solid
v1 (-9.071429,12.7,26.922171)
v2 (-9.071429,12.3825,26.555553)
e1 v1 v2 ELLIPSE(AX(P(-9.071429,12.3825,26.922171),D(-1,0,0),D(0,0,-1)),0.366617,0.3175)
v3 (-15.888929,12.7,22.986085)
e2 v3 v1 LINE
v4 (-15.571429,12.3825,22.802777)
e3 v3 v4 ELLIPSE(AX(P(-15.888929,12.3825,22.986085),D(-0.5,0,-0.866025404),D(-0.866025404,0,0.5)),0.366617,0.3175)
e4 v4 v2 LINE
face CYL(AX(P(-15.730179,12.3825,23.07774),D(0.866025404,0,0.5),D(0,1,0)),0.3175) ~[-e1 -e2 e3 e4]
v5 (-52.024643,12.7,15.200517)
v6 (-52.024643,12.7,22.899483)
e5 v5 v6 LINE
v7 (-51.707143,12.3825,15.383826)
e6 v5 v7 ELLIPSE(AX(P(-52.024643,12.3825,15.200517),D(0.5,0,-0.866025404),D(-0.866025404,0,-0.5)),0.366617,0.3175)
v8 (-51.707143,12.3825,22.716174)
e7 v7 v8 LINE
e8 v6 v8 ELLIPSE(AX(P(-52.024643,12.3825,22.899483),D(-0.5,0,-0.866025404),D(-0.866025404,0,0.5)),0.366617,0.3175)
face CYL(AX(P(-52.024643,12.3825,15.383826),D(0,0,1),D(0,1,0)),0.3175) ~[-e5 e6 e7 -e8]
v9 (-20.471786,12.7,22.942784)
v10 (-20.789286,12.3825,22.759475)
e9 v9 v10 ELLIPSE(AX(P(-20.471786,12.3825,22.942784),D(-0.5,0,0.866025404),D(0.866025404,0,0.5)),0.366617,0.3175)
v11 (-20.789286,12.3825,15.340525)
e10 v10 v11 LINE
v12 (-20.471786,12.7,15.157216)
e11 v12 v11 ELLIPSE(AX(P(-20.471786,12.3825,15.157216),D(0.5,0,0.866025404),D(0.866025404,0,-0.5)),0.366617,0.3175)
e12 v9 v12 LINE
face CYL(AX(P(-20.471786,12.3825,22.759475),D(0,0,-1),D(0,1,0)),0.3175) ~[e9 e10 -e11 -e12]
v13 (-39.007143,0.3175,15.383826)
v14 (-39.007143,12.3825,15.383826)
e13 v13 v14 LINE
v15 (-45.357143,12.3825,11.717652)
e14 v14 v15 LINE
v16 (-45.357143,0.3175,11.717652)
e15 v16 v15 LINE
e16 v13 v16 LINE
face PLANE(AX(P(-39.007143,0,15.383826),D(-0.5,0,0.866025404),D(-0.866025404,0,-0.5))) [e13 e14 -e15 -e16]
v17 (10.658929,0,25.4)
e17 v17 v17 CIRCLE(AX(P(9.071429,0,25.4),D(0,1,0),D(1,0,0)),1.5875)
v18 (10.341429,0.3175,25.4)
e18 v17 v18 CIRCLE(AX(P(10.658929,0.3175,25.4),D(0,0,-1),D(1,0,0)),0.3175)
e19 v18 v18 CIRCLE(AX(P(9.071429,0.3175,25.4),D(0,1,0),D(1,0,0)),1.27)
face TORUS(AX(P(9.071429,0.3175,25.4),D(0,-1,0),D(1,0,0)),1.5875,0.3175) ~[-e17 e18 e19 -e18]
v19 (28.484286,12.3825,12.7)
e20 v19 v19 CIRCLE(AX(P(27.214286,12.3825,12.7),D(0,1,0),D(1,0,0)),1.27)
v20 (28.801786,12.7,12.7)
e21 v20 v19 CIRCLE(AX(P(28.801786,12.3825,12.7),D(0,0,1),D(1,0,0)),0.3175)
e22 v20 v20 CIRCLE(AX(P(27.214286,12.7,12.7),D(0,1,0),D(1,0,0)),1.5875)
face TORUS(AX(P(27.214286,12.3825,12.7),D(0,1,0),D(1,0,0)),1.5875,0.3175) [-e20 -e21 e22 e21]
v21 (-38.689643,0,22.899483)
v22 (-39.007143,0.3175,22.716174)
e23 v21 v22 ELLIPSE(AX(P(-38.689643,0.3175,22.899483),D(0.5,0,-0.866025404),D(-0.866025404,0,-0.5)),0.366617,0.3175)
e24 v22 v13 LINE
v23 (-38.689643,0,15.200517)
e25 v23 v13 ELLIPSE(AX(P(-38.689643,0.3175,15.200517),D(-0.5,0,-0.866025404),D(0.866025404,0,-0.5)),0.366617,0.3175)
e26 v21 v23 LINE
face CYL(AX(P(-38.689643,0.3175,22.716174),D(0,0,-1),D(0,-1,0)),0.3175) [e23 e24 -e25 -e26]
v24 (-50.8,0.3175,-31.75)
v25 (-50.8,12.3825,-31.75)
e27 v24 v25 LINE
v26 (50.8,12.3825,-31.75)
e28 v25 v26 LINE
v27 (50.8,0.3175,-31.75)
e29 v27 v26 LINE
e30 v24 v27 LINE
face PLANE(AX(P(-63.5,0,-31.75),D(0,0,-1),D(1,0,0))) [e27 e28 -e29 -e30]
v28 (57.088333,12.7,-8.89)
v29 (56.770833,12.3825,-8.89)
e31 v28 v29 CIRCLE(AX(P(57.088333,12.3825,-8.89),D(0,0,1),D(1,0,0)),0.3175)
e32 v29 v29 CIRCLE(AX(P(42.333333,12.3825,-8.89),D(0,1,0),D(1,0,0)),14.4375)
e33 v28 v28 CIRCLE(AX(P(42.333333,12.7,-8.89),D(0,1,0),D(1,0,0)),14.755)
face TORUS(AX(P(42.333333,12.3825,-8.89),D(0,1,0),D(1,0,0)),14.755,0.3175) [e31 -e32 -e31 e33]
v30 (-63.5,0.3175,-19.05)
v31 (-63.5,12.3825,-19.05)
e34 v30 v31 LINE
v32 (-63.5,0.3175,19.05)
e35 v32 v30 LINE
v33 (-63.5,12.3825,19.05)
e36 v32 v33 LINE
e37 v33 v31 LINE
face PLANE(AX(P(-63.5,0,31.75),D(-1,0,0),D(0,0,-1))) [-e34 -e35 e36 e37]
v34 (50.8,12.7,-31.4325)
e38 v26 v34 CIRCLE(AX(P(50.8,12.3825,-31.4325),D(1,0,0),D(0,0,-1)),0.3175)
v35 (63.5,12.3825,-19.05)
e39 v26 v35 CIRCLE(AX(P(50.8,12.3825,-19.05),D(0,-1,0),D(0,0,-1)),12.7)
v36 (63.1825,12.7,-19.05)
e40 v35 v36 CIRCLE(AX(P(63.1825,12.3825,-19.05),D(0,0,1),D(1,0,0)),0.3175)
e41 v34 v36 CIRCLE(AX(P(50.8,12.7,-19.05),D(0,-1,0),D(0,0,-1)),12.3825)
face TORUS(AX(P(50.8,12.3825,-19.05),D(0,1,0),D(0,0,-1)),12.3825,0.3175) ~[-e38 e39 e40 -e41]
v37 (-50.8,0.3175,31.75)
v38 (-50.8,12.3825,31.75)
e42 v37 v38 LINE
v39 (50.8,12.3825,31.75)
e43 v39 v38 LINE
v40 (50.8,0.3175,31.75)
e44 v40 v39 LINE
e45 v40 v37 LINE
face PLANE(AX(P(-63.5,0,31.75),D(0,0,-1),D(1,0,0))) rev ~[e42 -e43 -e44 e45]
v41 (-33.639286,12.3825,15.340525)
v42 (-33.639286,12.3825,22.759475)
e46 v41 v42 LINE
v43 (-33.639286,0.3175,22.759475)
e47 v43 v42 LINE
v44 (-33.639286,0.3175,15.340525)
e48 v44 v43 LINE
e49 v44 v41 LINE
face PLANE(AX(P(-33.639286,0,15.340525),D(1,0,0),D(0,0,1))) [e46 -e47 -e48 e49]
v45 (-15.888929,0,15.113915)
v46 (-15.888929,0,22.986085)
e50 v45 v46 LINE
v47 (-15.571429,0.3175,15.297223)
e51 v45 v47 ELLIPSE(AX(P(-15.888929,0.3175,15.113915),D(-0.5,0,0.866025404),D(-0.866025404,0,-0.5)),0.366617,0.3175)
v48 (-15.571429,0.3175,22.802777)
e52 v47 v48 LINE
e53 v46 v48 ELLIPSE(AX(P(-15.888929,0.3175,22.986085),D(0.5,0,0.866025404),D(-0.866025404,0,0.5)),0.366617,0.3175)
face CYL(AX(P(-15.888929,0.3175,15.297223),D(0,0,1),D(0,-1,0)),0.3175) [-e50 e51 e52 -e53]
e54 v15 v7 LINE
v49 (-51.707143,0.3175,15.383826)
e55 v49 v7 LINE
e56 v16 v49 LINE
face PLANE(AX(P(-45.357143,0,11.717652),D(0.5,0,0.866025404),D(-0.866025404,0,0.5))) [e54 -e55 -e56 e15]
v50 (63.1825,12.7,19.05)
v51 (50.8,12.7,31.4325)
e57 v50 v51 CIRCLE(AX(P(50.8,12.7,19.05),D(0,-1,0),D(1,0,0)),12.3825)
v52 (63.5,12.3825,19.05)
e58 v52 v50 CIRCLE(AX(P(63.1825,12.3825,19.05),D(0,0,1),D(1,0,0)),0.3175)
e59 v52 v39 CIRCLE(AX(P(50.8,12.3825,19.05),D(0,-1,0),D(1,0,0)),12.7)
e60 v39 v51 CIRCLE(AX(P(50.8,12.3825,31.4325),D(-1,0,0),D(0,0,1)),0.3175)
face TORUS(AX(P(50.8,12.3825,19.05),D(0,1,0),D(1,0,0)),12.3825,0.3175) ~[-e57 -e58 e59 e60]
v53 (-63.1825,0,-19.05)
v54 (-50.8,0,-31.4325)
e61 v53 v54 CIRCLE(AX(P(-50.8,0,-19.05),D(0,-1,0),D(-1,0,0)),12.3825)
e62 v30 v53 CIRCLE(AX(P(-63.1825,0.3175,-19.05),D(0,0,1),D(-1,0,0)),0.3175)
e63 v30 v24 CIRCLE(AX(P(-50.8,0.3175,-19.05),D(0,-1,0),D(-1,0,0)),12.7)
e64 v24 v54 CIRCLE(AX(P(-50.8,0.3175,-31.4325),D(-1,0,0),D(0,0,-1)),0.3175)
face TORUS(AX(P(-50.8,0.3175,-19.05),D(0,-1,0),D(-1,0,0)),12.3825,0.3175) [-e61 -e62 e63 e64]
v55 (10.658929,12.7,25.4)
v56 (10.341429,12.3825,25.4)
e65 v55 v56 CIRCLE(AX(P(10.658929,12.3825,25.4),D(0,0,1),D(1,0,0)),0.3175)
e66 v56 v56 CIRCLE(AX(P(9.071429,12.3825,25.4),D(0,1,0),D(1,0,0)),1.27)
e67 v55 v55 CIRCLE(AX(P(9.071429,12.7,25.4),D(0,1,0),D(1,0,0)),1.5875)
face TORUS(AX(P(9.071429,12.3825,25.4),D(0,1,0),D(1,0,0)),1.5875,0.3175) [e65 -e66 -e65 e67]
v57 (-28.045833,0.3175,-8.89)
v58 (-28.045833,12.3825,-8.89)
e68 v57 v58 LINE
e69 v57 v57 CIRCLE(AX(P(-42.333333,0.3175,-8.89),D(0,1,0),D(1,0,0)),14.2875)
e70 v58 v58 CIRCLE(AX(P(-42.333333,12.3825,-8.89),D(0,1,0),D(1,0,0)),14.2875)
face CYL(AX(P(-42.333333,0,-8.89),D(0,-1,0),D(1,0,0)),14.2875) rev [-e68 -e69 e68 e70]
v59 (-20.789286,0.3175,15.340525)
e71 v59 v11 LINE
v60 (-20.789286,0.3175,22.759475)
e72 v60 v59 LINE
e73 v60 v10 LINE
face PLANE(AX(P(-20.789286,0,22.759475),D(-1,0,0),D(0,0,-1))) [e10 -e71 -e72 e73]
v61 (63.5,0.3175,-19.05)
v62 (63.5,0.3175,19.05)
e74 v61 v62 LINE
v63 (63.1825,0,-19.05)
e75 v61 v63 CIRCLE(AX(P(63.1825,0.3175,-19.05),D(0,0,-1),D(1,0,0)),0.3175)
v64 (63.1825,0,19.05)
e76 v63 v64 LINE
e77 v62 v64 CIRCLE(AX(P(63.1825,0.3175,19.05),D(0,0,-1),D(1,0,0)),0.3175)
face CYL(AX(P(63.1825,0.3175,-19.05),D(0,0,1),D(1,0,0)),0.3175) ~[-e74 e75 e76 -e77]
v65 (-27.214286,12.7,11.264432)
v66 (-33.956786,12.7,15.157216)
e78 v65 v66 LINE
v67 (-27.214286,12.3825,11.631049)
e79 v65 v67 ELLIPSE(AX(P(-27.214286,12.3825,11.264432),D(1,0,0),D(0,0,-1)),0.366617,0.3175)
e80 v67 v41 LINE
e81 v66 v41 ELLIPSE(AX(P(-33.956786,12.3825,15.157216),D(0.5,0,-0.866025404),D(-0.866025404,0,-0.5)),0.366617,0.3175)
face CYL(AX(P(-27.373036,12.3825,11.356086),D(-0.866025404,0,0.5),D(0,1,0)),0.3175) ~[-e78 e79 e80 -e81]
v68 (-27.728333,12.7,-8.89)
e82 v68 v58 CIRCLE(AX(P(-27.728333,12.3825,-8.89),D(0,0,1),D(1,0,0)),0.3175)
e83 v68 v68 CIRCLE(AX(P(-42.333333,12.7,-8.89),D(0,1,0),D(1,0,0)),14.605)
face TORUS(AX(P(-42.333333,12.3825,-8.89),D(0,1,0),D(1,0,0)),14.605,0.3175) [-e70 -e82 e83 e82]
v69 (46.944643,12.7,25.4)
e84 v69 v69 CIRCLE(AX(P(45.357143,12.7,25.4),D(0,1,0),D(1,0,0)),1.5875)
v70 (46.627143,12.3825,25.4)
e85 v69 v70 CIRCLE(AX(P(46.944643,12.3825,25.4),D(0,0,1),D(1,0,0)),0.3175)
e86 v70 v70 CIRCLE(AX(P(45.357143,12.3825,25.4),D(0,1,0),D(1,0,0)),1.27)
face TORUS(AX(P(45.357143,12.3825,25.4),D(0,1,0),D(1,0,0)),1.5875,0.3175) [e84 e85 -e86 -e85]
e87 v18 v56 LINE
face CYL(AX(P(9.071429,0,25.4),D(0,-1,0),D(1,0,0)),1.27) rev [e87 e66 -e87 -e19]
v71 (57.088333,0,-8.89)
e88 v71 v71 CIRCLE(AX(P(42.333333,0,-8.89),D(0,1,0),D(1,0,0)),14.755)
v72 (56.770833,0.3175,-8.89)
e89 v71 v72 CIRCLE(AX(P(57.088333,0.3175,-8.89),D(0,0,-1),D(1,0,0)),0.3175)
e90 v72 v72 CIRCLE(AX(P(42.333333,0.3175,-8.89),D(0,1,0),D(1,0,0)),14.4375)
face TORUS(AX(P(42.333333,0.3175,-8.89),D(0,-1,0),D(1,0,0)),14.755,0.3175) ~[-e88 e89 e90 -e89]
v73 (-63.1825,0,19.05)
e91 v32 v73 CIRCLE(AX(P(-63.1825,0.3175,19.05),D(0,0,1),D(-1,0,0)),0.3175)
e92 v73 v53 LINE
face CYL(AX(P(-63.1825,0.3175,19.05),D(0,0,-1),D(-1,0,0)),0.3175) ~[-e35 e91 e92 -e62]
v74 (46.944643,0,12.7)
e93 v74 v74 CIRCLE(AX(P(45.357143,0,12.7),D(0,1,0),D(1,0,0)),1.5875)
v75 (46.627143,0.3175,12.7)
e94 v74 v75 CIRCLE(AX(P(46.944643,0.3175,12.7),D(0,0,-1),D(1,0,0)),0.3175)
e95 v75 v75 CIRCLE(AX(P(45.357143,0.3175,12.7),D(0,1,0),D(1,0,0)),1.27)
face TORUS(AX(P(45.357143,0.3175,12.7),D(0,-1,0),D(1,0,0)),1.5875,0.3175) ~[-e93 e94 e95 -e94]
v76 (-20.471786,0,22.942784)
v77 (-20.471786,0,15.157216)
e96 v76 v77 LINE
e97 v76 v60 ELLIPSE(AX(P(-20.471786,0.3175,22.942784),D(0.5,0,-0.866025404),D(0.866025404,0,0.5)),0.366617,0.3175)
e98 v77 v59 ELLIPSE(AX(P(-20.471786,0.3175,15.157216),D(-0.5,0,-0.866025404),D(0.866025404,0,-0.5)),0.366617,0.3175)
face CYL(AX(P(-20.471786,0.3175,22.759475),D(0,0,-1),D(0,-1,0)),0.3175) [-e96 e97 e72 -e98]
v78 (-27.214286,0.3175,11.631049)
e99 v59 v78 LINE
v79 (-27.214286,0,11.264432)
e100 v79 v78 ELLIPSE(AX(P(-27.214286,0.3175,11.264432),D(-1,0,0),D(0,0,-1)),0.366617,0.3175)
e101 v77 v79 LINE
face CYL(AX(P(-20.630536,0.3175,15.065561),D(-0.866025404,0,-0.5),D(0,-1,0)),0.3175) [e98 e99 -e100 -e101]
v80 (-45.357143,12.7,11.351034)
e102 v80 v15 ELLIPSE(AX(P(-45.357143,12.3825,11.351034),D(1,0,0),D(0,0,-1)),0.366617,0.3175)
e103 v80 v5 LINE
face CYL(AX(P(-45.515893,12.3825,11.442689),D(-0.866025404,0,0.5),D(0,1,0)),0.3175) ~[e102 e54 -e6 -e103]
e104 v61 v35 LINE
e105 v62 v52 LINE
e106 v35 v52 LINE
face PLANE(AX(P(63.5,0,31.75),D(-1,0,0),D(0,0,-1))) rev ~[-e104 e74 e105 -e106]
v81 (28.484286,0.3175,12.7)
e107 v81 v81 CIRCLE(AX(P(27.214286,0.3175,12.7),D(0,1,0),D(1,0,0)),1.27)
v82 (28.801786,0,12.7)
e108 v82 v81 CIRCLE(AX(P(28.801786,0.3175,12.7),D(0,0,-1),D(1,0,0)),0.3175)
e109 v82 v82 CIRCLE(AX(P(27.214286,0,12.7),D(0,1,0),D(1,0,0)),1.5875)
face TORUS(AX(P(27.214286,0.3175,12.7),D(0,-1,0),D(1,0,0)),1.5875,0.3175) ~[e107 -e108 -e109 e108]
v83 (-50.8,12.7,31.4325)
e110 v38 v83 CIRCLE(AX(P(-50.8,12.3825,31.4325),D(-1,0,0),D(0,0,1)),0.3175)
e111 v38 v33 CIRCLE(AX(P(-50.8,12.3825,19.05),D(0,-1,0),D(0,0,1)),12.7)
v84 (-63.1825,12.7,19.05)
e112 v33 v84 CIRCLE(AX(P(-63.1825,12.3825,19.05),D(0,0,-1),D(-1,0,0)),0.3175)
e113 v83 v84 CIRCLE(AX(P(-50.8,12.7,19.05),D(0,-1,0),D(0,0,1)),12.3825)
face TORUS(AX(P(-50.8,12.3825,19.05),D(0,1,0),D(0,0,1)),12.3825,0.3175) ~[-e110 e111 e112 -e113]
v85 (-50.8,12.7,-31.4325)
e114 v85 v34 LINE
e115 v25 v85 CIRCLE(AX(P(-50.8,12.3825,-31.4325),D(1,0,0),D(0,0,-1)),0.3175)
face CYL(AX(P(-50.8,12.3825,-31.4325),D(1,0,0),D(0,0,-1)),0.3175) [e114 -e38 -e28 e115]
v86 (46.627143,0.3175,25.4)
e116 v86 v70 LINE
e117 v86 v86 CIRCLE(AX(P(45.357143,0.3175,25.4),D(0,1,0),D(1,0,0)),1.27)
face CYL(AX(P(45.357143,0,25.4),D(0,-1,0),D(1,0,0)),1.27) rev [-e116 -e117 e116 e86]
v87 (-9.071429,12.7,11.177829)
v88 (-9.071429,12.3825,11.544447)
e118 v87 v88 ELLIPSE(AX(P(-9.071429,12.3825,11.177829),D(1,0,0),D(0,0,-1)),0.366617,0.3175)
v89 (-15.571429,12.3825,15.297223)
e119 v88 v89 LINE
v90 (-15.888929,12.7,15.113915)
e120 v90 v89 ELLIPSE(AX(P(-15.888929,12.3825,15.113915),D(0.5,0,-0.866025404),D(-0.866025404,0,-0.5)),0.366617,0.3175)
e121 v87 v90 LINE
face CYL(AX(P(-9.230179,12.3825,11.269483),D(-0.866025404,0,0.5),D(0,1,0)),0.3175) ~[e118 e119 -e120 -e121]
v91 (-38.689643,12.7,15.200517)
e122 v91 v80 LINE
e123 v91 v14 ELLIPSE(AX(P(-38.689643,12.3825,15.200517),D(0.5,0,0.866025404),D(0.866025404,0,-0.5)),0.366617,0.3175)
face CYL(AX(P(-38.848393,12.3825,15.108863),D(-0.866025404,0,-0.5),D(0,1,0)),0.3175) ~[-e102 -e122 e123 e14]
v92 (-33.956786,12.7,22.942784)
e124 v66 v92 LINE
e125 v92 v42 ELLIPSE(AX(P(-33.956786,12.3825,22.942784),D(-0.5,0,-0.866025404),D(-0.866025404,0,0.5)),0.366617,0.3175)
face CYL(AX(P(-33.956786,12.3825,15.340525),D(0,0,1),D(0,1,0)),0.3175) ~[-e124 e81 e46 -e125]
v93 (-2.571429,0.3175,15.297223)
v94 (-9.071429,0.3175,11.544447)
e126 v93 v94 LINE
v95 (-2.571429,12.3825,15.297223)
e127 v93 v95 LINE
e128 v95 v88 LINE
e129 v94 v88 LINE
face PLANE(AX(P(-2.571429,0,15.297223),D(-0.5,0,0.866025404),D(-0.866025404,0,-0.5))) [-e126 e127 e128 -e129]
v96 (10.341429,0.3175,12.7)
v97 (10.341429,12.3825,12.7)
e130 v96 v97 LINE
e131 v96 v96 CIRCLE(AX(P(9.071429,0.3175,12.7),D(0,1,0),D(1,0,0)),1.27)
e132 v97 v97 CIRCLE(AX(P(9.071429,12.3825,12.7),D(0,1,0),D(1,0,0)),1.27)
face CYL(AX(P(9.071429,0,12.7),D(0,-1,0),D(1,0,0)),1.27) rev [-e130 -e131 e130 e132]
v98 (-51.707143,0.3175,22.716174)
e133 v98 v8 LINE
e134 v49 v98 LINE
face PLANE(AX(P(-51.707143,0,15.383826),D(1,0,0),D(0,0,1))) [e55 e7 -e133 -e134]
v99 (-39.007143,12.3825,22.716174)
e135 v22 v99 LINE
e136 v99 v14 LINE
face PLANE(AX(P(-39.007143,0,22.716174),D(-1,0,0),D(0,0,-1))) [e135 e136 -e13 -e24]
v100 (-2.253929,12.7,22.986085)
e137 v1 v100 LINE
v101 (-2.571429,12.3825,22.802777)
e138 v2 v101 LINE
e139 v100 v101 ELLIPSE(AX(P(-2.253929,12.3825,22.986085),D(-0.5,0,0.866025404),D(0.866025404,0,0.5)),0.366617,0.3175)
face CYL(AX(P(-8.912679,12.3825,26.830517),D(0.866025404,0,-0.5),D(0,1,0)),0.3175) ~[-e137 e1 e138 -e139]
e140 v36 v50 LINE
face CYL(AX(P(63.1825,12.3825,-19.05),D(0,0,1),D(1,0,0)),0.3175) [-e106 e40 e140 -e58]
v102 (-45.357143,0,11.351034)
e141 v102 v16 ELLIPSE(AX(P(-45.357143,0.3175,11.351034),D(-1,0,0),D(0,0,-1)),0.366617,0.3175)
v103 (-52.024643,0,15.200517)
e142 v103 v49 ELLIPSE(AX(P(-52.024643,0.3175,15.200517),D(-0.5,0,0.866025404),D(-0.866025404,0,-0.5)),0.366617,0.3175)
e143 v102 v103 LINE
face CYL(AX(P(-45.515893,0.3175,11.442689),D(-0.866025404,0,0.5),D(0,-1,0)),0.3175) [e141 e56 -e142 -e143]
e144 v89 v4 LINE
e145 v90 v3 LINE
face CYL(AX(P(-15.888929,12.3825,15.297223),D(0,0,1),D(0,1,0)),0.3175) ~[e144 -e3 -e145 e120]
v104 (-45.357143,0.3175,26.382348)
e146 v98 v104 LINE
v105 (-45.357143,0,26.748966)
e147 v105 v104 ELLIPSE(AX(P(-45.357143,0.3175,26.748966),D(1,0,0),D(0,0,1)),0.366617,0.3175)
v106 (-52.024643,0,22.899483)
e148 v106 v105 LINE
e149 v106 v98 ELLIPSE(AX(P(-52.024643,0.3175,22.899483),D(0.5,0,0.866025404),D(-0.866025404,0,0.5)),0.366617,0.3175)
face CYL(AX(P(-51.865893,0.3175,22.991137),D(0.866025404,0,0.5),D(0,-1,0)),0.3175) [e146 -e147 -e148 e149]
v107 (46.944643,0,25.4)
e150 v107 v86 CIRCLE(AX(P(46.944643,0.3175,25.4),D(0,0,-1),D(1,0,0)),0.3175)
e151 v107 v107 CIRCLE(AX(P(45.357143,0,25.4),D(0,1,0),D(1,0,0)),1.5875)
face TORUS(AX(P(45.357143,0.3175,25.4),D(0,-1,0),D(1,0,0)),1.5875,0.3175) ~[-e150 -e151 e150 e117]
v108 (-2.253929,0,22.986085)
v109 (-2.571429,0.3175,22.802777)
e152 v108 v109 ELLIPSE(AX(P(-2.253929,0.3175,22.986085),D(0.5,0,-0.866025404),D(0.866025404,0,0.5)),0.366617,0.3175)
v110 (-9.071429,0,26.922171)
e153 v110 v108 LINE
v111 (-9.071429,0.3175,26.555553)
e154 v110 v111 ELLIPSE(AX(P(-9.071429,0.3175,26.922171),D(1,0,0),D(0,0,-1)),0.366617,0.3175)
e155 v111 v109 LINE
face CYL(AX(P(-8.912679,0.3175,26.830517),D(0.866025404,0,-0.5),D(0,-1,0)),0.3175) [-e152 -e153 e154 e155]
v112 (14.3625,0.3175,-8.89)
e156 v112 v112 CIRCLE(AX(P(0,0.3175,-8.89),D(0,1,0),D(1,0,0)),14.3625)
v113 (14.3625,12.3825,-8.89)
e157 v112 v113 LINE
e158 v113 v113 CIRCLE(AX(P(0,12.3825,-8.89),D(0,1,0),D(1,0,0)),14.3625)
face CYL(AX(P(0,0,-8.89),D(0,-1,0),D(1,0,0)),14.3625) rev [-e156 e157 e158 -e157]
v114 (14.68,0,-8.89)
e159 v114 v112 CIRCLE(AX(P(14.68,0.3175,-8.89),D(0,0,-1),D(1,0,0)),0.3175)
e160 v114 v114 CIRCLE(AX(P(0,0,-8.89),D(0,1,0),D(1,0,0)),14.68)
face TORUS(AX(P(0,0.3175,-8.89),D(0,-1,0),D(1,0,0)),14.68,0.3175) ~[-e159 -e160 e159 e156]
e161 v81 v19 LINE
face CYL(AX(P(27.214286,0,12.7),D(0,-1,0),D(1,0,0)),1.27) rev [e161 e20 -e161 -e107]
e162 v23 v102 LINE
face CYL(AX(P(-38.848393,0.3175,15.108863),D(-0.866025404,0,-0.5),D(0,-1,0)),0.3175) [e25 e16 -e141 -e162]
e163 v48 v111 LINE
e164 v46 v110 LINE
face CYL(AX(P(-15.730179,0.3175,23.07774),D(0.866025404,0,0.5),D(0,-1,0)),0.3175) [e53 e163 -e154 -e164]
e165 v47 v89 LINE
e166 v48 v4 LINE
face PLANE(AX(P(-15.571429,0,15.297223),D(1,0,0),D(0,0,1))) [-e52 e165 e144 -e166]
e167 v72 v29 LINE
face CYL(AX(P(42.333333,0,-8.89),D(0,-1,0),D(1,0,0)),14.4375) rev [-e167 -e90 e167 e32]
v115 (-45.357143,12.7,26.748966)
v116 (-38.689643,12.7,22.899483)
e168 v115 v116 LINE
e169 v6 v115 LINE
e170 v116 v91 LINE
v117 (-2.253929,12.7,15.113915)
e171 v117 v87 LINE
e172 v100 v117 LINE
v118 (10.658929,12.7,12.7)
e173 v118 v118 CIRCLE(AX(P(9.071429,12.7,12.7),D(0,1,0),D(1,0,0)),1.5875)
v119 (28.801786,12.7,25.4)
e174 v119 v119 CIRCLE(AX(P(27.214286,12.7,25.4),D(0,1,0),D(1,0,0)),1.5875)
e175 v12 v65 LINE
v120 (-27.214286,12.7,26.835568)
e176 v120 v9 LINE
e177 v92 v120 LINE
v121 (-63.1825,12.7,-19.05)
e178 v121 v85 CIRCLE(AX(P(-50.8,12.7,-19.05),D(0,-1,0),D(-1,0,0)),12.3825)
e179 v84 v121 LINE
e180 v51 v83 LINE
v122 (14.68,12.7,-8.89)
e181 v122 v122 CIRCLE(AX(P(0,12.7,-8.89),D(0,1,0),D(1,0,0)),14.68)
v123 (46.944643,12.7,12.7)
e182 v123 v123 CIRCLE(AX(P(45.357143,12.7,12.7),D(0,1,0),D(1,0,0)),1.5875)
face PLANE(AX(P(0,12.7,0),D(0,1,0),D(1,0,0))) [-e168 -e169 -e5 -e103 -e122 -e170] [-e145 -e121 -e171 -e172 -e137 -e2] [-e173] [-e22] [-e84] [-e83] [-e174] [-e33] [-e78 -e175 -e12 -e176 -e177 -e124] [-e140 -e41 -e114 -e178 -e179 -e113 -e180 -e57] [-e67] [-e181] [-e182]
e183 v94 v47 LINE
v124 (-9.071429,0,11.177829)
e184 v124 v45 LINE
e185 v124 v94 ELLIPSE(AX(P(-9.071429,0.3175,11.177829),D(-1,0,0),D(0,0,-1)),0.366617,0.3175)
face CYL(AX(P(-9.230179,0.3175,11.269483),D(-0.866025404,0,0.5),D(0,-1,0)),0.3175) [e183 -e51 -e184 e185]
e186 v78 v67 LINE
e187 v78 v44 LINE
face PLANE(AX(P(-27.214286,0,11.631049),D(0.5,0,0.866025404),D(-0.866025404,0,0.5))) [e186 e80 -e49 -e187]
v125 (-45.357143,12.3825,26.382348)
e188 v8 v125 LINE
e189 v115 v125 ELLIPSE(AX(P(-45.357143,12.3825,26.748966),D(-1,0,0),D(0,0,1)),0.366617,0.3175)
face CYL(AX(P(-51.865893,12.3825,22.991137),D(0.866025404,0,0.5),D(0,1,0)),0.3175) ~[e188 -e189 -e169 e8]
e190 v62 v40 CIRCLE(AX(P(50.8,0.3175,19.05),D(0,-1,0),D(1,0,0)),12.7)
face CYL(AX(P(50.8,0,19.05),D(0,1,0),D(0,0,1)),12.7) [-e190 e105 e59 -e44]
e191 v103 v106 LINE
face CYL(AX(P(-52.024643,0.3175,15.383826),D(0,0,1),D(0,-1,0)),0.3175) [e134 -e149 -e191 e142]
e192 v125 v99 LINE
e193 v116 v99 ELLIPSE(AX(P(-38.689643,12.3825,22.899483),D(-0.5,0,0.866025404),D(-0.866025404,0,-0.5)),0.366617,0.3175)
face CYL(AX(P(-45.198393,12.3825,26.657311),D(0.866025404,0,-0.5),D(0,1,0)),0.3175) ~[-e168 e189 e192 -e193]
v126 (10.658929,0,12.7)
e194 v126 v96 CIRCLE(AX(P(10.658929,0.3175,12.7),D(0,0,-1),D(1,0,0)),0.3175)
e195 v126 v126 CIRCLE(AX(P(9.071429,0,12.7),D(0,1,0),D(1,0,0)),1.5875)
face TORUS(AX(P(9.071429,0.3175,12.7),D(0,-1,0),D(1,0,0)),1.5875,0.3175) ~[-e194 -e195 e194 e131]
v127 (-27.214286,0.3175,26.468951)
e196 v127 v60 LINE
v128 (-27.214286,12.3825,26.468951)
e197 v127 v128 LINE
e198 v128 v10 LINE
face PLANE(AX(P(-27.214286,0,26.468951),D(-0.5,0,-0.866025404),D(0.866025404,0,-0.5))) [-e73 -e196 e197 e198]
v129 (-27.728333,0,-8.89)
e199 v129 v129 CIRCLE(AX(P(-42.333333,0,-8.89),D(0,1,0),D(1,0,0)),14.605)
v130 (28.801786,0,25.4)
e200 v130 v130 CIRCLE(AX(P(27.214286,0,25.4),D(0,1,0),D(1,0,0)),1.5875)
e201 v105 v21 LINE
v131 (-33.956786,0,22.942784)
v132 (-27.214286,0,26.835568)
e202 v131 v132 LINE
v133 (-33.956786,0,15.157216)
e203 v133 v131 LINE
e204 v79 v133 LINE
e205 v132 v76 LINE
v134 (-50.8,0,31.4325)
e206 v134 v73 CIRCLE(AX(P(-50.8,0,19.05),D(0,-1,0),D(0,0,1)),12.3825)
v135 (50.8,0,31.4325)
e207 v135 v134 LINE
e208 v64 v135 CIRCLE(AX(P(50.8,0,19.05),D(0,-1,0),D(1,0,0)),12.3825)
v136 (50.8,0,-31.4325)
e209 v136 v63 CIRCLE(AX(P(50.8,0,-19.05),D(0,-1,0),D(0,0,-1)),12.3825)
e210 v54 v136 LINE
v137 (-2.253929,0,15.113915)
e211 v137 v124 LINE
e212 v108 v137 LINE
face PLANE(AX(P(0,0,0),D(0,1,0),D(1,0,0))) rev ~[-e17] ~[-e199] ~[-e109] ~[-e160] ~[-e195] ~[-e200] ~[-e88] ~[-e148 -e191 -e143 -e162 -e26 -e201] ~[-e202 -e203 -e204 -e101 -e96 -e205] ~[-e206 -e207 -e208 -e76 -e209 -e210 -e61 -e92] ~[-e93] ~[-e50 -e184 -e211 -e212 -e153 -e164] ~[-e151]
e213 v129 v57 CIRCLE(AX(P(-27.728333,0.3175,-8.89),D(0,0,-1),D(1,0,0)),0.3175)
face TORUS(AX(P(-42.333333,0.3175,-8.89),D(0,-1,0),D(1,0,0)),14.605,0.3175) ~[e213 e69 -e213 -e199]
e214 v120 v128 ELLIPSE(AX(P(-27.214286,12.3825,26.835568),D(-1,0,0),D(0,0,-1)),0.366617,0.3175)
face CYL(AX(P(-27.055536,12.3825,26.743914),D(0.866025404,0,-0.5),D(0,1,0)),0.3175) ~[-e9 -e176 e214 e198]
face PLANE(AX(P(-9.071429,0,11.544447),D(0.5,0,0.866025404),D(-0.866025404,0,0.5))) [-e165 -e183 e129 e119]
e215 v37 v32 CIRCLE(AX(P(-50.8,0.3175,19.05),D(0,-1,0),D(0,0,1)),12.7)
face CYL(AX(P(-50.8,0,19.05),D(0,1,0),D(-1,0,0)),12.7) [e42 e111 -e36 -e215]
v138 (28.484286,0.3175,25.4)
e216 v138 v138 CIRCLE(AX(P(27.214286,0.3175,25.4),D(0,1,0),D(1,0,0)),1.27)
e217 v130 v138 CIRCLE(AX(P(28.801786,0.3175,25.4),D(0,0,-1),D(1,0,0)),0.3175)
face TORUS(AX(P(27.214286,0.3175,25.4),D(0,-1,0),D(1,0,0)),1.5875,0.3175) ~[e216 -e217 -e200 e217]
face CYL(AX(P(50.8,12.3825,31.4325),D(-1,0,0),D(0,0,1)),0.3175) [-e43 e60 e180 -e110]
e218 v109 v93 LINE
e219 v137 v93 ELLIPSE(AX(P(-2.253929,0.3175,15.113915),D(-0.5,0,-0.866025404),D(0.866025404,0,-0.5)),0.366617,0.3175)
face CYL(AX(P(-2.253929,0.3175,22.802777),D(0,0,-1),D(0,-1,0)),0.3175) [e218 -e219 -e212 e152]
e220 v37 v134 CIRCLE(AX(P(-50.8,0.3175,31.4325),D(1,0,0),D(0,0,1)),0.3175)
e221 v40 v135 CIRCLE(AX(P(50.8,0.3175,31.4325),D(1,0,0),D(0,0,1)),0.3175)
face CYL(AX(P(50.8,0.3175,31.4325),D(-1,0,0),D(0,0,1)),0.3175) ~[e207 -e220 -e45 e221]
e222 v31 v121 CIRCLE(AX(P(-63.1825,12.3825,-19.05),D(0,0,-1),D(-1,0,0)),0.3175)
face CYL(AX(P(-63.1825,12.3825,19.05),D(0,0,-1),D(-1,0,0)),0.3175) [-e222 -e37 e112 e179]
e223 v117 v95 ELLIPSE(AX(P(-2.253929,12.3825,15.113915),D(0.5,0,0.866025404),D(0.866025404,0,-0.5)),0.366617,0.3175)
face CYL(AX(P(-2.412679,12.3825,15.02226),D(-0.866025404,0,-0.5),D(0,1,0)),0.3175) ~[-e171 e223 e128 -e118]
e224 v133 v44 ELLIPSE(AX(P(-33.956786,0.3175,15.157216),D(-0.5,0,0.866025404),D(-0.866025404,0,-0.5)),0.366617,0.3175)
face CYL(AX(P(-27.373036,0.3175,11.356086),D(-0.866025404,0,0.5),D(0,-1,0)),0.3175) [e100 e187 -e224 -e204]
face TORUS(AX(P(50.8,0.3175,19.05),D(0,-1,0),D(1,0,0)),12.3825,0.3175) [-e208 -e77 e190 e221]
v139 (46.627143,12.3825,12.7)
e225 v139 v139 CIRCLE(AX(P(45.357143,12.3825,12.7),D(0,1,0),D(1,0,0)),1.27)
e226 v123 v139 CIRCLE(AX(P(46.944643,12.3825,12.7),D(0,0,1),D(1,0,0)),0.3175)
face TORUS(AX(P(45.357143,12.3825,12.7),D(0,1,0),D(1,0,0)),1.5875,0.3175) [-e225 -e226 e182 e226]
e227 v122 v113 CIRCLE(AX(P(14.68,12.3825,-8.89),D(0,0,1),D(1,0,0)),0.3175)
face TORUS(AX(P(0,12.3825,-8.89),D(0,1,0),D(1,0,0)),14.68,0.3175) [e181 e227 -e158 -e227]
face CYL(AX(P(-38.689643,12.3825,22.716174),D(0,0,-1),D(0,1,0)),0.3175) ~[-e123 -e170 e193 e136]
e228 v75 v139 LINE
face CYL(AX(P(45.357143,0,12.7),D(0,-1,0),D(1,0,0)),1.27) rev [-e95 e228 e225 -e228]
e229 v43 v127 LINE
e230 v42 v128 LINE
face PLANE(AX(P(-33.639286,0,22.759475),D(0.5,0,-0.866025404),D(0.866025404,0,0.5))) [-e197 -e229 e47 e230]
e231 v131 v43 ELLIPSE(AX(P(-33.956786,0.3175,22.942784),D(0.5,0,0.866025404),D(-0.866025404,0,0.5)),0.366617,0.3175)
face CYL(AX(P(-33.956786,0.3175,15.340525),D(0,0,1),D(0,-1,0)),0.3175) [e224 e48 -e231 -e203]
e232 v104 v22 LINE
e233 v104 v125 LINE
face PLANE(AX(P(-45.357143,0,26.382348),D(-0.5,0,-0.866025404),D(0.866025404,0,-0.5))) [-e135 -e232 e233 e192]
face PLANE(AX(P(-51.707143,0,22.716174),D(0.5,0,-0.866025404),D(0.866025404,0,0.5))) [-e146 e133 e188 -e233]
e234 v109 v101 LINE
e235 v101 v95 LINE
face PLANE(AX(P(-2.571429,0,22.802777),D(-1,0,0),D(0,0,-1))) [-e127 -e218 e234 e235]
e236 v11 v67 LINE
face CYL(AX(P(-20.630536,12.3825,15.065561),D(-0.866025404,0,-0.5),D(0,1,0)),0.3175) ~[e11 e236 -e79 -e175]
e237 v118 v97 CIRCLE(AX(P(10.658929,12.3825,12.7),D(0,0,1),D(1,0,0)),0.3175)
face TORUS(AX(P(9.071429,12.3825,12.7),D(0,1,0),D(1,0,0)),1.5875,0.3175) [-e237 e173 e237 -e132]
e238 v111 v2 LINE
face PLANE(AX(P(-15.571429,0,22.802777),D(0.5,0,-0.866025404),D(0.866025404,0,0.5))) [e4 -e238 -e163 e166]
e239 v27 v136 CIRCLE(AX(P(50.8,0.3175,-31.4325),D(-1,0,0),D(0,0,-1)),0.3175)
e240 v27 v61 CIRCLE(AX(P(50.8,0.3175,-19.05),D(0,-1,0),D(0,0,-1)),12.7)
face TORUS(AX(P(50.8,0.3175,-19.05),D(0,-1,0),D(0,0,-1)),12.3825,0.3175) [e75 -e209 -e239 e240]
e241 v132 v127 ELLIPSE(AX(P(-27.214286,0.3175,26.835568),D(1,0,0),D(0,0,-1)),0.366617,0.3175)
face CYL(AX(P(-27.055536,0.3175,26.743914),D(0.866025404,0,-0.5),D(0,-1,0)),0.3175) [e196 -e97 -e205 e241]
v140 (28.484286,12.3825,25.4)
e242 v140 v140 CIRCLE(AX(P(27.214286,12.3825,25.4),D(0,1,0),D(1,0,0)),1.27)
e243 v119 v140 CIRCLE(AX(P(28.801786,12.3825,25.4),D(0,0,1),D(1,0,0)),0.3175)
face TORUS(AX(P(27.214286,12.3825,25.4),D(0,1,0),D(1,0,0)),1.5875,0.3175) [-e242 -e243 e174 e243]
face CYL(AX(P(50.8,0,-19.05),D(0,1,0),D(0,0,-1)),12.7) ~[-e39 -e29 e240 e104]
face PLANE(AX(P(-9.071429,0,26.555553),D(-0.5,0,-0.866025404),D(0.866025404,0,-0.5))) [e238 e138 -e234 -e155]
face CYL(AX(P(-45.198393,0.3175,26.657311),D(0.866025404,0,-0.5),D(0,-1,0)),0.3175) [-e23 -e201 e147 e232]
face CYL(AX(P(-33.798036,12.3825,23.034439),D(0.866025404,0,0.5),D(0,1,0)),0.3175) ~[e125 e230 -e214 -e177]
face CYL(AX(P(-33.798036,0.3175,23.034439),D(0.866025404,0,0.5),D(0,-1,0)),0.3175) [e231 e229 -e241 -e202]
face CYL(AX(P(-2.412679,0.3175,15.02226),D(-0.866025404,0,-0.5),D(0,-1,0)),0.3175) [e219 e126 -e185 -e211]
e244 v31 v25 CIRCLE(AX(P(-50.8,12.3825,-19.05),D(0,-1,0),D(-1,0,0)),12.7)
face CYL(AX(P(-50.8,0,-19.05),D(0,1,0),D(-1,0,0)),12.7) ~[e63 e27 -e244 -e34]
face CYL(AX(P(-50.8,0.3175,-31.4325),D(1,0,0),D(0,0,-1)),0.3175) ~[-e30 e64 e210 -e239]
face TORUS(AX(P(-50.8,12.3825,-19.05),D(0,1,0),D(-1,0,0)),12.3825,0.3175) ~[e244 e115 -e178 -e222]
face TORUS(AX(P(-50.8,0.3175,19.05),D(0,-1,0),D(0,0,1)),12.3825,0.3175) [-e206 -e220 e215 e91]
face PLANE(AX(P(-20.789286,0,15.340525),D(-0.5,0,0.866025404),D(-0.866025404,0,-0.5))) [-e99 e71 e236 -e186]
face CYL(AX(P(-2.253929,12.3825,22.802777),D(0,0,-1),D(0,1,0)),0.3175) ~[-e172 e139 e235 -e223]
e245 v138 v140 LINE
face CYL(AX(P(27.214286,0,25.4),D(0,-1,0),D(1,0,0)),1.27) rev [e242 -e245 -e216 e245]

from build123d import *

# Parameters (mm, degrees)
SKETCH1_W        = 127
SKETCH1_H        = 63.5
SKETCH1_R        = 14.2875
SKETCH1_R_2      = 14.362499977
SKETCH1_R_3      = 14.437499954
SKETCH1_R_4      = 1.27
TEST_PLATE_DEPTH = 12.7
CORNER_FILLET_R  = 12.7
FACE_SMOOTH_R    = 0.3175


with BuildPart() as part:
    # Sketch1 → Test Plate (new body)
    with BuildSketch(Plane(origin=(0, 0, 0), x_dir=(1, 0, 0), z_dir=(0, 1, 0))):
        Rectangle(SKETCH1_W, SKETCH1_H)
        with Locations((-42.333333333, 8.89)):
            Circle(SKETCH1_R, mode=Mode.SUBTRACT)
        with Locations((0, 8.89)):
            Circle(SKETCH1_R_2, mode=Mode.SUBTRACT)
        with Locations((42.333333333, 8.89)):
            Circle(SKETCH1_R_3, mode=Mode.SUBTRACT)
        with Locations((9.071428571, -12.7)):
            Circle(SKETCH1_R_4, mode=Mode.SUBTRACT)
        with Locations((27.214285714, -12.7)):
            Circle(SKETCH1_R_4, mode=Mode.SUBTRACT)
        with Locations((45.357142857, -12.7)):
            Circle(SKETCH1_R_4, mode=Mode.SUBTRACT)
        with Locations((45.357142857, -25.4)):
            Circle(SKETCH1_R_4, mode=Mode.SUBTRACT)
        with Locations((27.214285714, -25.4)):
            Circle(SKETCH1_R_4, mode=Mode.SUBTRACT)
        with Locations((9.071428571, -25.4)):
            Circle(SKETCH1_R_4, mode=Mode.SUBTRACT)
        Polygon((-39.007142857, -15.383825791), (-45.357142857, -11.717651581), (-51.707142857, -15.383825791), (-51.707142857, -22.716174209), (-45.357142857, -26.382348419), (-39.007142857, -22.716174209), align=None, mode=Mode.SUBTRACT)
        Polygon((-20.789285737, -22.759475466), (-20.789285737, -15.340524534), (-27.214285714, -11.631049067), (-33.639285691, -15.340524534), (-33.639285691, -22.759475466), (-27.214285714, -26.468950933), align=None, mode=Mode.SUBTRACT)
        Polygon((-2.571428617, -22.802776723), (-2.571428617, -15.297223277), (-9.071428571, -11.544446554), (-15.571428525, -15.297223277), (-15.571428525, -22.802776723), (-9.071428571, -26.555553446), align=None, mode=Mode.SUBTRACT)
    extrude(amount=TEST_PLATE_DEPTH)

    # Corner Fillet
    corner_fillet_edges = [part.edges().sort_by_distance(p)[0] for p in [
        (63.5, 6.35, 31.75),
        (-63.5, 6.35, 31.75),
        (-63.5, 6.35, -31.75),
        (63.5, 6.35, -31.75),
    ]]
    fillet(corner_fillet_edges, radius=CORNER_FILLET_R)

    # Face Smooth
    face_smooth_edges = [part.edges().sort_by_distance(p)[0] for p in [
        (-63.5, 0, 0),
        (-63.5, 12.7, 0),
        (63.5, 0, 0),
        (0, 0, 31.75),
        (0, 0, -31.75),
        (-59.780256121, 0, 28.030256121),
        (59.780256121, 0, 28.030256121),
        (59.780256121, 0, -28.030256121),
        (-59.780256121, 0, -28.030256121),
        (0, 12.7, -31.75),
        (63.5, 12.7, 0),
        (0, 12.7, 31.75),
        (-59.780256121, 12.7, 28.030256121),
        (-14.362499977, 0, -8.89),
        (59.780256121, 12.7, 28.030256121),
        (59.780256121, 12.7, -28.030256121),
        (-59.780256121, 12.7, -28.030256121),
        (-14.362499977, 12.7, -8.89),
        (-56.620833333, 0, -8.89),
        (-56.620833333, 12.7, -8.89),
        (27.895833379, 0, -8.89),
        (27.895833379, 12.7, -8.89),
        (-39.007142857, 0, 19.05),
        (-42.182142857, 0, 13.550738686),
        (-48.532142857, 0, 13.550738686),
        (-51.707142857, 0, 19.05),
        (-48.532142857, 0, 24.549261314),
        (-42.182142857, 0, 24.549261314),
        (-39.007142857, 12.7, 19.05),
        (-42.182142857, 12.7, 13.550738686),
        (-48.532142857, 12.7, 13.550738686),
        (-51.707142857, 12.7, 19.05),
        (-48.532142857, 12.7, 24.549261314),
        (-42.182142857, 12.7, 24.549261314),
        (-24.001785726, 0, 24.614213199),
        (-20.789285737, 0, 19.05),
        (-24.001785726, 0, 13.485786801),
        (-30.426785703, 0, 13.485786801),
        (-33.639285691, 0, 19.05),
        (-30.426785703, 0, 24.614213199),
        (-24.001785726, 12.7, 24.614213199),
        (-20.789285737, 12.7, 19.05),
        (-24.001785726, 12.7, 13.485786801),
        (-30.426785703, 12.7, 13.485786801),
        (-33.639285691, 12.7, 19.05),
        (-30.426785703, 12.7, 24.614213199),
        (-5.821428594, 0, 24.679165085),
        (-2.571428617, 0, 19.05),
        (-5.821428594, 0, 13.420834915),
        (-12.321428548, 0, 13.420834915),
        (-15.571428525, 0, 19.05),
        (-12.321428548, 0, 24.679165085),
        (-5.821428594, 12.7, 24.679165085),
        (-2.571428617, 12.7, 19.05),
        (-5.821428594, 12.7, 13.420834915),
        (-12.321428548, 12.7, 13.420834915),
        (-15.571428525, 12.7, 19.05),
        (-12.321428548, 12.7, 24.679165085),
        (7.801428571, 0, 12.7),
        (7.801428571, 12.7, 12.7),
        (25.944285714, 0, 12.7),
        (25.944285714, 12.7, 12.7),
        (44.087142857, 0, 12.7),
        (44.087142857, 12.7, 12.7),
        (44.087142857, 0, 25.4),
        (44.087142857, 12.7, 25.4),
        (25.944285714, 0, 25.4),
        (25.944285714, 12.7, 25.4),
        (7.801428571, 0, 25.4),
        (7.801428571, 12.7, 25.4),
    ]]
    fillet(face_smooth_edges, radius=FACE_SMOOTH_R)


solid = part.part
